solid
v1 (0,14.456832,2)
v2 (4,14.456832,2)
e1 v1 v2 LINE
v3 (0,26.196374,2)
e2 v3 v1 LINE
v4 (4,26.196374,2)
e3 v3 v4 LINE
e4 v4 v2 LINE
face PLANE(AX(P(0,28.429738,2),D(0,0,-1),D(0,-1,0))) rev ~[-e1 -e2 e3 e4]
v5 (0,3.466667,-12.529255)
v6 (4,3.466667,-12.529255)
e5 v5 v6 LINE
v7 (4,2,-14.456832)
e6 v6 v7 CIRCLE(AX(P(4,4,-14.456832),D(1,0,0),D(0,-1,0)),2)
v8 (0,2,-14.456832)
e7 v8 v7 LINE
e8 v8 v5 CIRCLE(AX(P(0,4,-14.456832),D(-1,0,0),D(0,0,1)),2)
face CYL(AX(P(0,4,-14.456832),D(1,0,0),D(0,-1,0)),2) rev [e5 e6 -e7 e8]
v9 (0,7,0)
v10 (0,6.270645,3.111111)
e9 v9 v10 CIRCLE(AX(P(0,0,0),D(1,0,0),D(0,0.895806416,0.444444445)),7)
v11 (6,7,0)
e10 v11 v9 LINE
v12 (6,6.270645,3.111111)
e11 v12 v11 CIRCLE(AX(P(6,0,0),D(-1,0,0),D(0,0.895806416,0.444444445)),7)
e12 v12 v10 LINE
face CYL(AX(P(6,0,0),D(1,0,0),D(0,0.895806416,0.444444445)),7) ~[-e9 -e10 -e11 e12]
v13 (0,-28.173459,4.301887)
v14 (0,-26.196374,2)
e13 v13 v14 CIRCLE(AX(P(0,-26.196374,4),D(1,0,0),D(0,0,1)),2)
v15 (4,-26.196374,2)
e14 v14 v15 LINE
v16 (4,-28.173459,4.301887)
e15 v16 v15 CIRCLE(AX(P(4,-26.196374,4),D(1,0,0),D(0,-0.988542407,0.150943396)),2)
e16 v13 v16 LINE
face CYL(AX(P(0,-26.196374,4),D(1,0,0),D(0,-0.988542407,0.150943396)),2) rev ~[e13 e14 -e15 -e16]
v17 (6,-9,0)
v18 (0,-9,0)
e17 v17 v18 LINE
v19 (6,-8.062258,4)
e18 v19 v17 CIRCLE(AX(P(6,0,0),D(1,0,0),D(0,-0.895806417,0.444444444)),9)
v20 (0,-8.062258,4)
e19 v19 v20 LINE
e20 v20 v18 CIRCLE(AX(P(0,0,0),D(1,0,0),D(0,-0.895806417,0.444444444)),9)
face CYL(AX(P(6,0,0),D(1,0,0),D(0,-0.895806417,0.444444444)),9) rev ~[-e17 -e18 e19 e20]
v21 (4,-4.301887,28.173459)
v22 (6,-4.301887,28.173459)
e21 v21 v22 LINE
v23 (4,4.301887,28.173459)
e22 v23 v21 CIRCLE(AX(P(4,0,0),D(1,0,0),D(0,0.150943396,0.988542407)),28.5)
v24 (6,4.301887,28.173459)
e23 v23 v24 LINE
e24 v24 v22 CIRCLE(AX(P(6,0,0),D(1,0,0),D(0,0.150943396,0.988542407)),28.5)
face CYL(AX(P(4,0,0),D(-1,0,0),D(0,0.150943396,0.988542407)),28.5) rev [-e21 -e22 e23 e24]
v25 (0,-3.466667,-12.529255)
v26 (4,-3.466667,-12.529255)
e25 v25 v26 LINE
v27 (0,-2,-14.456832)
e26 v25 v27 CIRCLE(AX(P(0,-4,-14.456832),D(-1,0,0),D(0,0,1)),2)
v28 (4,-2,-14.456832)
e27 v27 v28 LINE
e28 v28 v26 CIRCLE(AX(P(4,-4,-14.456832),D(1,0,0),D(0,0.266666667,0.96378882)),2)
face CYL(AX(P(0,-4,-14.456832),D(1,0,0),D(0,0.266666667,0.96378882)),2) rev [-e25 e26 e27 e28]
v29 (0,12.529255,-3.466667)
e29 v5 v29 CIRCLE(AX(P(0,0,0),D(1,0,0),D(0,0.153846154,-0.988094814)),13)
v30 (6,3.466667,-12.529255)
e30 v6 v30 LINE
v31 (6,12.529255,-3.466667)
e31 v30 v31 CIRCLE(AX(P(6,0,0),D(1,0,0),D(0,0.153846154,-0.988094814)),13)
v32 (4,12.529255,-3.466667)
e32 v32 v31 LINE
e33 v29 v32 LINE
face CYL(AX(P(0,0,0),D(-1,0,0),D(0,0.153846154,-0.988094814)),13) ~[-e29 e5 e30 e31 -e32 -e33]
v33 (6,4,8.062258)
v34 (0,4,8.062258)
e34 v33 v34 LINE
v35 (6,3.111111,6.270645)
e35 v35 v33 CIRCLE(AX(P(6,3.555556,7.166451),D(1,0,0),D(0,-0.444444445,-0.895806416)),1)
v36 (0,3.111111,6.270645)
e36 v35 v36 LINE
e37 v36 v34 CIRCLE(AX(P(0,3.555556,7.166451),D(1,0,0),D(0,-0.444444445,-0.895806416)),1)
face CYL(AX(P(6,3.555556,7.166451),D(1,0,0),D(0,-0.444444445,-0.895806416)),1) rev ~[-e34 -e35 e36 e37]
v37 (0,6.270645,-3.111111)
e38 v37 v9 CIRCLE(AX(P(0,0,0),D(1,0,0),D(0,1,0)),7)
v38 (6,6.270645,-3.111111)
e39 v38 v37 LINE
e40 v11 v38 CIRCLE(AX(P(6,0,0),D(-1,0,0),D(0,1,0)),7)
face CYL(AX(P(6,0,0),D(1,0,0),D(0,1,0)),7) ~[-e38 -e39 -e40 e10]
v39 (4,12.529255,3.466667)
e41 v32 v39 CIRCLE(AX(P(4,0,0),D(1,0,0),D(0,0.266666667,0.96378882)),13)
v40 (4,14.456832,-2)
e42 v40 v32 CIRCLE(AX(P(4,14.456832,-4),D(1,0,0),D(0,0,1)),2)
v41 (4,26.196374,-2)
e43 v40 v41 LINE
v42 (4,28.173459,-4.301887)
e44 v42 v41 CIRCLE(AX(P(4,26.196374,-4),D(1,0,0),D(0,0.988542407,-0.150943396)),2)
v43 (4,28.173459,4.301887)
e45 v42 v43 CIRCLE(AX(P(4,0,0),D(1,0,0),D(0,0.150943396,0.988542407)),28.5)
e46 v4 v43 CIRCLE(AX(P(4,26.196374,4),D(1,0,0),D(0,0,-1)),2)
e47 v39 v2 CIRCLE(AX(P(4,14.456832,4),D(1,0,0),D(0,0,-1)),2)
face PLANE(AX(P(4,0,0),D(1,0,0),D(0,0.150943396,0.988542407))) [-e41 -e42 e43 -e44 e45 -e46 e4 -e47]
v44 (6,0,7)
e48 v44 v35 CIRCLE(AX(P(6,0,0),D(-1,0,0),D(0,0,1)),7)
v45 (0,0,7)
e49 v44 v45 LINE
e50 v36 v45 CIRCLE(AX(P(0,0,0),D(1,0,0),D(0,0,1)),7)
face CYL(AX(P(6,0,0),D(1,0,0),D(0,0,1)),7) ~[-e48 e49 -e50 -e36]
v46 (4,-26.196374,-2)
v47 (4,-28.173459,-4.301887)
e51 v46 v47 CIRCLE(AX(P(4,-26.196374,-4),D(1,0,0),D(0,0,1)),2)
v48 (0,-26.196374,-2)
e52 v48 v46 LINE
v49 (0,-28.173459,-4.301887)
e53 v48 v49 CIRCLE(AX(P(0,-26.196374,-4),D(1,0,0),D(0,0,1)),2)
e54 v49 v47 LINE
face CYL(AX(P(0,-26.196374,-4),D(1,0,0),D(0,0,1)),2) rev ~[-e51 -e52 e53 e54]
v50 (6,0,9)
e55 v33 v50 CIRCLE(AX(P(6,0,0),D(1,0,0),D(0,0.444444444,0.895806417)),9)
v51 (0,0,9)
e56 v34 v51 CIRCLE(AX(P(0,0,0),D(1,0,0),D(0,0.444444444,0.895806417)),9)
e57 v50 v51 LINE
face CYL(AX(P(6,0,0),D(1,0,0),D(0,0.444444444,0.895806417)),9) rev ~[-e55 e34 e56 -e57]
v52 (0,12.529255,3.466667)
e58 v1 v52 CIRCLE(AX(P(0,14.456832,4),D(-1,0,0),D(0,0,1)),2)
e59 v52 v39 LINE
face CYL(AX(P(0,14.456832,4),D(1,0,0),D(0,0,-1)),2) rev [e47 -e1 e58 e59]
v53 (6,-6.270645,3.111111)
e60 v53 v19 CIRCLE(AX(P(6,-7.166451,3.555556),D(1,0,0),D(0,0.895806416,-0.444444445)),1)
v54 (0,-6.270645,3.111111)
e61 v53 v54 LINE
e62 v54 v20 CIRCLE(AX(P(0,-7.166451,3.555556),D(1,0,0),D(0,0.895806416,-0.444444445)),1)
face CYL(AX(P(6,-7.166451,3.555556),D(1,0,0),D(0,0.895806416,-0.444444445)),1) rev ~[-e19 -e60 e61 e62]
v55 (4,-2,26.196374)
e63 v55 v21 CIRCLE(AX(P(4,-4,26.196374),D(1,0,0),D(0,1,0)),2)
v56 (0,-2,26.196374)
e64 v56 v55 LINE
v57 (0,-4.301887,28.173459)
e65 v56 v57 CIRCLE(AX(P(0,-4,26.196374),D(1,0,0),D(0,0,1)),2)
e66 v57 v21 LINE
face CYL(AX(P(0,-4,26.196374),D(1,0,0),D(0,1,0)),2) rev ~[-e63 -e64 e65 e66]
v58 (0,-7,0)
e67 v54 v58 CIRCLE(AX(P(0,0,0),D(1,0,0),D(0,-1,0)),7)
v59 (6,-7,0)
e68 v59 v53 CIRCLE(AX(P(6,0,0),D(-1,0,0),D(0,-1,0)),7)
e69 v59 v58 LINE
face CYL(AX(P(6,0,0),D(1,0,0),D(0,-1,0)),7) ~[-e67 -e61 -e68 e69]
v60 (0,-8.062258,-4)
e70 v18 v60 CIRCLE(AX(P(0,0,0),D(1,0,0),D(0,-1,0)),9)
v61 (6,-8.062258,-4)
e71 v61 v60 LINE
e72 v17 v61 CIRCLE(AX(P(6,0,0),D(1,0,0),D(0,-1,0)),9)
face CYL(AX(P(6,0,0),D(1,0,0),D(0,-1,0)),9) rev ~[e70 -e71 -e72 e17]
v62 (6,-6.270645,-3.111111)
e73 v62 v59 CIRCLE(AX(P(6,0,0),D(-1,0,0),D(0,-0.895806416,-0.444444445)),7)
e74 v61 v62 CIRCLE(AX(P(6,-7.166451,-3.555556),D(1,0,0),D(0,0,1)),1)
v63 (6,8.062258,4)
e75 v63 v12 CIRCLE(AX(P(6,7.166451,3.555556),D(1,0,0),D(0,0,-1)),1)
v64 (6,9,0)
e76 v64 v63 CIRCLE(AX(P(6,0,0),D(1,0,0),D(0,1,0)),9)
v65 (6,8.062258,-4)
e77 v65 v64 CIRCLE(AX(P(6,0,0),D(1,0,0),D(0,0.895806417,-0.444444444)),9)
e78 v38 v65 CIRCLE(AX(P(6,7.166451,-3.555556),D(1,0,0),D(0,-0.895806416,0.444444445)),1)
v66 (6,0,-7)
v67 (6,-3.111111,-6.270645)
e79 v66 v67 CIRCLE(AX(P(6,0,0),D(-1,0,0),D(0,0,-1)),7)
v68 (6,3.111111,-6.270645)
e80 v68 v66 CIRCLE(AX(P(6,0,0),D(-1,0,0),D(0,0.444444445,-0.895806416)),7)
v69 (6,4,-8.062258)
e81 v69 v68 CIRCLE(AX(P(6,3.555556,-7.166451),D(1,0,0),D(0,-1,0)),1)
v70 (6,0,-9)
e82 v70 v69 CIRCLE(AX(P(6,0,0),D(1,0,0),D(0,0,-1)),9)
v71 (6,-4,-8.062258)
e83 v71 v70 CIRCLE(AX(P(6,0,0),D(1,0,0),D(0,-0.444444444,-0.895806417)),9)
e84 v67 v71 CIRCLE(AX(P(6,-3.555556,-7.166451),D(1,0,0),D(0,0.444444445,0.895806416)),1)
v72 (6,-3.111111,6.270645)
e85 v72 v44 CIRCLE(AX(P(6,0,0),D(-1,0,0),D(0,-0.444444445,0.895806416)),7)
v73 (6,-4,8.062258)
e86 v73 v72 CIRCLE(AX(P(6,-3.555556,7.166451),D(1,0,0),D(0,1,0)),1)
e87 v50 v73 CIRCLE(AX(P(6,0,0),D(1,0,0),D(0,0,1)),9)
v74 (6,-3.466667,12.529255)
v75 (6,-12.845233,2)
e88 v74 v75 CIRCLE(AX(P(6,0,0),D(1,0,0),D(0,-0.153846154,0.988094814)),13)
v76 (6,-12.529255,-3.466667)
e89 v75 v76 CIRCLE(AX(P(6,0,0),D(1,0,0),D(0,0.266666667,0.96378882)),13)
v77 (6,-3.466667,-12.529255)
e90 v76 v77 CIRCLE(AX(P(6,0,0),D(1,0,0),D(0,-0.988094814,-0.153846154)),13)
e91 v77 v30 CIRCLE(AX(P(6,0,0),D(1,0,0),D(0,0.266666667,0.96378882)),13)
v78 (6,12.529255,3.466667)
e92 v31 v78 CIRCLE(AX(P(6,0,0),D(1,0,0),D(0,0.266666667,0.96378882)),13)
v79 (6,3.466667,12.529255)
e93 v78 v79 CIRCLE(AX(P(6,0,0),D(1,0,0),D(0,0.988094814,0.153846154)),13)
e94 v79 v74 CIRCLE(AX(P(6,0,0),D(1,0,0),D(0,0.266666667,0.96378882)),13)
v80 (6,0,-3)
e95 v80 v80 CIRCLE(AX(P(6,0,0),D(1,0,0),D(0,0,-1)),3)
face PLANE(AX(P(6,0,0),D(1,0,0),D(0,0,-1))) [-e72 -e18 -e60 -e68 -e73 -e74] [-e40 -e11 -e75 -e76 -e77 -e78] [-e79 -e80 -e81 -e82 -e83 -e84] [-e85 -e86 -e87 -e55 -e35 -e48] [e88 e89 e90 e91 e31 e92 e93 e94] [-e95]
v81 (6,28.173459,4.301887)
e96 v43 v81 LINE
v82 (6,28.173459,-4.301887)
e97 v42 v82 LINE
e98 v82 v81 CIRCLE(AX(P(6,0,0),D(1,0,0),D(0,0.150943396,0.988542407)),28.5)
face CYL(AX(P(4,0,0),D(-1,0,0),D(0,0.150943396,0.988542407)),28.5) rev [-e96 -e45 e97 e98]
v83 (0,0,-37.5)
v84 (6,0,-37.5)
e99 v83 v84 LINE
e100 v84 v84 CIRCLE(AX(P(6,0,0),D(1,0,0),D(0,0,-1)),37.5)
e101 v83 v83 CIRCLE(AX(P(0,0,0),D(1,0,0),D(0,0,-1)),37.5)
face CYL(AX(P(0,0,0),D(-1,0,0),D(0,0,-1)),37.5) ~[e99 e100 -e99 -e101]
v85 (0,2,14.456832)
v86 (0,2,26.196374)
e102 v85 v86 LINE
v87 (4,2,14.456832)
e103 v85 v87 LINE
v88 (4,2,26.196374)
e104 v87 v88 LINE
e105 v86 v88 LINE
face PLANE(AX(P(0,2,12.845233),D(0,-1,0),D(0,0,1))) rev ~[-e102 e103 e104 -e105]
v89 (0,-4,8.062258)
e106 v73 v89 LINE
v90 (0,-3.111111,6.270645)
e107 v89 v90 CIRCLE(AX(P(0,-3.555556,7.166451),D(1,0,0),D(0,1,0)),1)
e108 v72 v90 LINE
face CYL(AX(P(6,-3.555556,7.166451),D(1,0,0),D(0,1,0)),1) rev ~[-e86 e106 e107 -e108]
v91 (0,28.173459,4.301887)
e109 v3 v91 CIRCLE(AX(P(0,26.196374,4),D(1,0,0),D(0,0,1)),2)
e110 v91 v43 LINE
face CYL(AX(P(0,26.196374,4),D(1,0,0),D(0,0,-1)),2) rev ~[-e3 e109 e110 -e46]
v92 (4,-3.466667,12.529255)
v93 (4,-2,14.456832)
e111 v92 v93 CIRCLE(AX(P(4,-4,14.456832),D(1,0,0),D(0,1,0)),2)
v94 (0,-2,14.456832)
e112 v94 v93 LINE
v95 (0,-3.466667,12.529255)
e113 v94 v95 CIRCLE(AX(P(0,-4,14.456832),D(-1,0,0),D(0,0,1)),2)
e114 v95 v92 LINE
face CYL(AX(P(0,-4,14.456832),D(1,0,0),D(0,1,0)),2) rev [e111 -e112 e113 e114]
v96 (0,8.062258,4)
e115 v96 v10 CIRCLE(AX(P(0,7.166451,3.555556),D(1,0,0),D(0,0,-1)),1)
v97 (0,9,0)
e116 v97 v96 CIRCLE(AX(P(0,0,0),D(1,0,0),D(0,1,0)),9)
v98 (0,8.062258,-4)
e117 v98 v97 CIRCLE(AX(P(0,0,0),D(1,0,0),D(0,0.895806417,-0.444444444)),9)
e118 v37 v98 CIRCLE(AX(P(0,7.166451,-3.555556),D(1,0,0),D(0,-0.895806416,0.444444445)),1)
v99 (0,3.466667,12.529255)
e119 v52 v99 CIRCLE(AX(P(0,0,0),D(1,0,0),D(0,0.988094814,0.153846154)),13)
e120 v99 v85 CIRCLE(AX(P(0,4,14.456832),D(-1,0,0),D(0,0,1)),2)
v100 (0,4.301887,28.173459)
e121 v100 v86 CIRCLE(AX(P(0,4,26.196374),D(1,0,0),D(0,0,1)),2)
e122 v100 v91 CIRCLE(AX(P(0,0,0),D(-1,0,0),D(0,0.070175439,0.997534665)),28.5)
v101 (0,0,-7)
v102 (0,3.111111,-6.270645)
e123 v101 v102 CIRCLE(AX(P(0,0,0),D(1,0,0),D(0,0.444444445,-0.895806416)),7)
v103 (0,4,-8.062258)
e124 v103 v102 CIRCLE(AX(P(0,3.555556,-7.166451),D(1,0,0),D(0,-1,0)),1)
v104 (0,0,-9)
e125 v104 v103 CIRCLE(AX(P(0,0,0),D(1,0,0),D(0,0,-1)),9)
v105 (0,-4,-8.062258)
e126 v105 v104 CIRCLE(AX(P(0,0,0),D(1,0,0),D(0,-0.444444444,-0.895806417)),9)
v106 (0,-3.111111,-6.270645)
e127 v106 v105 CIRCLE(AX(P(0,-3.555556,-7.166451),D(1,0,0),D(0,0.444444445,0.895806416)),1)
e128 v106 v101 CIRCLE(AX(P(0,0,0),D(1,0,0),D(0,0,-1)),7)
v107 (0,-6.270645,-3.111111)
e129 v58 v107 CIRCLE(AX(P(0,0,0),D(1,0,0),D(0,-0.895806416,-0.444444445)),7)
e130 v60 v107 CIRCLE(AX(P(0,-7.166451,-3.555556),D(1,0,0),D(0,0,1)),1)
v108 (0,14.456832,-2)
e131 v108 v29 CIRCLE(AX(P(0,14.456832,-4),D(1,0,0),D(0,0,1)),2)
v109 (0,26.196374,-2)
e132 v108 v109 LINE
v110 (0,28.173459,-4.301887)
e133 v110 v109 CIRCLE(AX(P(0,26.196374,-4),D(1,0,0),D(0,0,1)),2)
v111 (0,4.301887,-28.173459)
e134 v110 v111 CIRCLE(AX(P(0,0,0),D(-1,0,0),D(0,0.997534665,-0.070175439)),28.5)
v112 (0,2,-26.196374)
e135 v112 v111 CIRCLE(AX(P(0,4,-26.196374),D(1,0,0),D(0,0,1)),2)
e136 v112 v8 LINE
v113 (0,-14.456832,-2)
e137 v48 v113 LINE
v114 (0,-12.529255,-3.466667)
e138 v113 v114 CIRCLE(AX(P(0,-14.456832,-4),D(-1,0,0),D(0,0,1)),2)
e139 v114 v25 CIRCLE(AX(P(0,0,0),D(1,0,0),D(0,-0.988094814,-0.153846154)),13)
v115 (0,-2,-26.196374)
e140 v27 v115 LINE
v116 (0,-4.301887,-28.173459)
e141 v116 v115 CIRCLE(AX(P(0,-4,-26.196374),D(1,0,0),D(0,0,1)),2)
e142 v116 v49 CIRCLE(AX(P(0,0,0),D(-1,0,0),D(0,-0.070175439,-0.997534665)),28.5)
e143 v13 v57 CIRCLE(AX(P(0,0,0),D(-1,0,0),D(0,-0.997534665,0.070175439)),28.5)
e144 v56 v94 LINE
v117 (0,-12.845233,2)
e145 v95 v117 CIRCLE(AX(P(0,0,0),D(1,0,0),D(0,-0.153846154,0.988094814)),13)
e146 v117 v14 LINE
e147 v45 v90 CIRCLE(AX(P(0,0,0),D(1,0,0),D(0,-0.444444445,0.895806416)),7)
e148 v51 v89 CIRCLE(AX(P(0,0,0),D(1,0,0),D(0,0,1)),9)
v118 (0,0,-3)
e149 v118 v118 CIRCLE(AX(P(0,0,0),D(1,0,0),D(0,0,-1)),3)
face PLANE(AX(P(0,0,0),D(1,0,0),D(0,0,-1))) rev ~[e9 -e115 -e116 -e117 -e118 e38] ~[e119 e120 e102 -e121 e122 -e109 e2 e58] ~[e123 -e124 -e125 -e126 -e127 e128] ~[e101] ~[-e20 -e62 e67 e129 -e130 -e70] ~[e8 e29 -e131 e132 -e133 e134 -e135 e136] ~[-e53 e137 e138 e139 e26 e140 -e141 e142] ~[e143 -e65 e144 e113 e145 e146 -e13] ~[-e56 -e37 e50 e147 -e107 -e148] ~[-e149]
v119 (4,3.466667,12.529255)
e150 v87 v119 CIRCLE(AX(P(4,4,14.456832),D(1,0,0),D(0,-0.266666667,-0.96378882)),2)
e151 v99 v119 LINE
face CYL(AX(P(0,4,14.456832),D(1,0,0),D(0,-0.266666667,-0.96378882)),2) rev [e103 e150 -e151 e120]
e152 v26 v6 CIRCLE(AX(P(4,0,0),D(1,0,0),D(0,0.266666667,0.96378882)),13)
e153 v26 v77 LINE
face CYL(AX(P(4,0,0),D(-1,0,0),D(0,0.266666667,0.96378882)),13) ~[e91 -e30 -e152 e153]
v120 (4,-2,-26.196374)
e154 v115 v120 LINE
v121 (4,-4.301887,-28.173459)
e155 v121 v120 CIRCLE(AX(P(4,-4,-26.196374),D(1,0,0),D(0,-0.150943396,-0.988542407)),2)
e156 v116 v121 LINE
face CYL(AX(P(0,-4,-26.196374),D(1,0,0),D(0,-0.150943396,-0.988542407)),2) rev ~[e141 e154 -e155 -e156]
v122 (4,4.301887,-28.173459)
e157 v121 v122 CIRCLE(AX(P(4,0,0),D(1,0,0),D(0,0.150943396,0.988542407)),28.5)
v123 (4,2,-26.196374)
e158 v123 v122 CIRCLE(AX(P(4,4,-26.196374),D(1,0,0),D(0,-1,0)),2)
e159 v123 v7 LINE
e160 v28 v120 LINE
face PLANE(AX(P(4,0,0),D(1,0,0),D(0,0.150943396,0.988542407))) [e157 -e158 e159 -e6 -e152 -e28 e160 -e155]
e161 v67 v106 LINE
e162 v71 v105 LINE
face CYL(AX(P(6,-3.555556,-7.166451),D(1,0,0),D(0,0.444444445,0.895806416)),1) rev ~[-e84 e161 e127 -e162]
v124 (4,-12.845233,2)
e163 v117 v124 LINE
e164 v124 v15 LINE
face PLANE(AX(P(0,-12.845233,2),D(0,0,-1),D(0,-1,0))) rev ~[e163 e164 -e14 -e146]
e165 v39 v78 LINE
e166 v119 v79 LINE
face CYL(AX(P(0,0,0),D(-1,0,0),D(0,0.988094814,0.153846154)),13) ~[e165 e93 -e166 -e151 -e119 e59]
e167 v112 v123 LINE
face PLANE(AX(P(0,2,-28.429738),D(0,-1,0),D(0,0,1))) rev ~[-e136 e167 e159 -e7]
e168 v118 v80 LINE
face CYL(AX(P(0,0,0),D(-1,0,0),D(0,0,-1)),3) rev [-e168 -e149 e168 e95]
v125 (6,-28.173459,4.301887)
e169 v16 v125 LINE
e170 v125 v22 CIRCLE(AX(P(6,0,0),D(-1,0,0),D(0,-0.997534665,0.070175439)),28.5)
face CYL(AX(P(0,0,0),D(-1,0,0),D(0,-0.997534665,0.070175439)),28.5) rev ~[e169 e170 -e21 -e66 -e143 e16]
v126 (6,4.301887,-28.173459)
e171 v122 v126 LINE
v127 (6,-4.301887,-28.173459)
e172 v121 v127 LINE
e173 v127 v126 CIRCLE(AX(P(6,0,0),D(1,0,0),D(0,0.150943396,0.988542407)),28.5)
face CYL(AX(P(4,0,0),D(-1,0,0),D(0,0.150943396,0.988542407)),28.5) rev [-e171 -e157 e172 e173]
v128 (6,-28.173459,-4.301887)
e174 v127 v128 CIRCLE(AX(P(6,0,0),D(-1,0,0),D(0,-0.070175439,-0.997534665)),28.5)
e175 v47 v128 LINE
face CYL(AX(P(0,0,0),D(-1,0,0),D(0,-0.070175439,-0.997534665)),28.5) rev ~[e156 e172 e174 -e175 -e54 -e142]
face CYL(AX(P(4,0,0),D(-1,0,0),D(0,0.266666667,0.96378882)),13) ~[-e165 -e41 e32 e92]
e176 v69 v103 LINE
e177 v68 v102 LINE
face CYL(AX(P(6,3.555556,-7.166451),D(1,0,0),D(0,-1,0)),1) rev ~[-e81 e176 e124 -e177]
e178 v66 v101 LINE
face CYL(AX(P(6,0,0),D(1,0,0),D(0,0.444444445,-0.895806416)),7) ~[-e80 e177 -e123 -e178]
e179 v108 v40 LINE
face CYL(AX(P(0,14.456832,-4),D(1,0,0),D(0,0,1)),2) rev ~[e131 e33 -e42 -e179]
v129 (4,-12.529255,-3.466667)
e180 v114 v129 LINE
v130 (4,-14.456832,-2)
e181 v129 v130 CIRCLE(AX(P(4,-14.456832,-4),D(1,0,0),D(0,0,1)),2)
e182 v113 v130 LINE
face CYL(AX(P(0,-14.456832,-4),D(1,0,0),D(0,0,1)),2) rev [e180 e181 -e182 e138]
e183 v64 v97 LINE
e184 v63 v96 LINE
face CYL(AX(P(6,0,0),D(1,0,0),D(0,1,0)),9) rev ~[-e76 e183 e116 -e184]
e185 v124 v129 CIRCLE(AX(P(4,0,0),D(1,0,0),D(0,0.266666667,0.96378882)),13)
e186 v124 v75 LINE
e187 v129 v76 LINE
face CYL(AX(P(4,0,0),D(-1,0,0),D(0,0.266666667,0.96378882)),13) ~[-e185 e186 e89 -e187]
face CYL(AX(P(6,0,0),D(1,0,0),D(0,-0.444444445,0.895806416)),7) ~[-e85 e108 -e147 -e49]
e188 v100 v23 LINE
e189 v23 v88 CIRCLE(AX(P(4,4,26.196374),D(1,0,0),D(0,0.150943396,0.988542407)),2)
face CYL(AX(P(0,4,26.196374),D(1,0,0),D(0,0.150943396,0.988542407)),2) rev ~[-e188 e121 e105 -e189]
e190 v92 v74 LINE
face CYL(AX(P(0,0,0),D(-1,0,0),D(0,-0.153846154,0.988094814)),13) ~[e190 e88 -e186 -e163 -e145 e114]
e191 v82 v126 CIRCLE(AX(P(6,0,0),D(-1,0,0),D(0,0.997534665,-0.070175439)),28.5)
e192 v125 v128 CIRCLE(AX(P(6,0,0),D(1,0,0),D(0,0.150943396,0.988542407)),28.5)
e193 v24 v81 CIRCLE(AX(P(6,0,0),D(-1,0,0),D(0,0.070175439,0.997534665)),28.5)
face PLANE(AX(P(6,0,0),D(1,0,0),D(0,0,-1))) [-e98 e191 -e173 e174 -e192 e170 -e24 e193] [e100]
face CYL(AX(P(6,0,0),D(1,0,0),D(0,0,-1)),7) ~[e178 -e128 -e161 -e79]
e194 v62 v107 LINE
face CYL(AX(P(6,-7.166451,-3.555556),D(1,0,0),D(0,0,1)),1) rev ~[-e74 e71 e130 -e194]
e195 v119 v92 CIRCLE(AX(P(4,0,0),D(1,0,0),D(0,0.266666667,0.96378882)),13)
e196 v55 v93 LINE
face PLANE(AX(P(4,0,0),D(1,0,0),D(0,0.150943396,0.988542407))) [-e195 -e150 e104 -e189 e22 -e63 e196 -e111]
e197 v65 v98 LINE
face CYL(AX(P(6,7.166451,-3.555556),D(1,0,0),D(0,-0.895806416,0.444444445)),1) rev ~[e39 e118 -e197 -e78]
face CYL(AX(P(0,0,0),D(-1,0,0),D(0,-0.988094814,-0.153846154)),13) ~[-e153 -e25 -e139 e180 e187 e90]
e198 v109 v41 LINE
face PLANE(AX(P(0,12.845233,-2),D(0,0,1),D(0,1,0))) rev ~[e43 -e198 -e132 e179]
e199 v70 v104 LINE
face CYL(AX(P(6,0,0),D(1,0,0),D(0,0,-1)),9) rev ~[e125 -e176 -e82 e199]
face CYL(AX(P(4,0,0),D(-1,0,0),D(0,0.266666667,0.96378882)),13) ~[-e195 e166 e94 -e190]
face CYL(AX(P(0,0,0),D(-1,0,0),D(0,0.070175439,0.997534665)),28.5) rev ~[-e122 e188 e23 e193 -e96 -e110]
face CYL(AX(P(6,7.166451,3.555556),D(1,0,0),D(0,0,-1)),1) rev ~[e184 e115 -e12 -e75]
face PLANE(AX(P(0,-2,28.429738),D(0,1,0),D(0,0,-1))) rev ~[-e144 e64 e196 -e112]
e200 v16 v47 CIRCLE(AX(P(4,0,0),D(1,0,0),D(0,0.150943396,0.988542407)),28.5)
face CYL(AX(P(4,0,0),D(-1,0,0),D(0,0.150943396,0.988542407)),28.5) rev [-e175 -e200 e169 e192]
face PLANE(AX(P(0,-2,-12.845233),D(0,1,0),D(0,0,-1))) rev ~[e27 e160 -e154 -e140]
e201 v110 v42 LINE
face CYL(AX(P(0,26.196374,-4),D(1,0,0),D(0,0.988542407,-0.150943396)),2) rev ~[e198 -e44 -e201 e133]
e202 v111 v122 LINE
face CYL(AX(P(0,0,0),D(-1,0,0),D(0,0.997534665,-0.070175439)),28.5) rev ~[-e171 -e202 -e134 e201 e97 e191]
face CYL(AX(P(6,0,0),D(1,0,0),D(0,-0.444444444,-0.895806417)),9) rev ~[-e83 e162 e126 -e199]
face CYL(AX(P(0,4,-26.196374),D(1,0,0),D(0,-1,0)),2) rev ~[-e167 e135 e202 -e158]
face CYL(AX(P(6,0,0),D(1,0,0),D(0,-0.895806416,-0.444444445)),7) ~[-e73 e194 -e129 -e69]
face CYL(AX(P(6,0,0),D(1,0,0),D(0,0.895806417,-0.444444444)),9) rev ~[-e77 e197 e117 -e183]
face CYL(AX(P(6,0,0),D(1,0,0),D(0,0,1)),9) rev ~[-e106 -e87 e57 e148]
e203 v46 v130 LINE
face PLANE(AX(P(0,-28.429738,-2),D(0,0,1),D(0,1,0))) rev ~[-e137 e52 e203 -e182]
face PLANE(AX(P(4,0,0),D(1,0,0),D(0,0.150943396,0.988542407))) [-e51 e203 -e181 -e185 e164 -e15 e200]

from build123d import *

# Parameters (mm, degrees)
SKETCH1_R           = 37.5
SKETCH1_R_2         = 3
BOSS_EXTRUDE1_DEPTH = 6
FILLET1_R           = 2
SKETCH2_R           = 1
CUT_EXTRUDE1_DEPTH  = 10
CIRPATTERN1_COUNT   = 4
CUT_EXTRUDE2_START  = -2
SKETCH3_R           = 28.5
SKETCH3_R_2         = 13
CUT_EXTRUDE2_DEPTH  = 2


with BuildPart() as part:
    # Sketch1 → Boss-Extrude1 (new body)
    with BuildSketch(Plane(origin=(0, 0, 0), x_dir=(0, 0, -1), z_dir=(1, 0, 0))):
        Circle(SKETCH1_R)
        with BuildLine():
            ThreePointArc((-12.845232579, -2), (-9.192388155, -9.192388155), (-2, -12.845232579))
            Line((-2, -12.845232579), (-2, -28.429737952))
            ThreePointArc((-2, -28.429737952), (-20.152543264, -20.152543264), (-28.429737952, -2))
            Line((-28.429737952, -2), (-12.845232579, -2))
        make_face(mode=Mode.SUBTRACT)
        with BuildLine():
            ThreePointArc((2, -12.845232579), (9.192388155, -9.192388155), (12.845232579, -2))
            Line((12.845232579, -2), (28.429737952, -2))
            ThreePointArc((28.429737952, -2), (20.152543264, -20.152543264), (2, -28.429737952))
            Line((2, -28.429737952), (2, -12.845232579))
        make_face(mode=Mode.SUBTRACT)
        Circle(SKETCH1_R_2, mode=Mode.SUBTRACT)
        with BuildLine():
            ThreePointArc((-2, 12.845232579), (-9.192388155, 9.192388155), (-12.845232579, 2))
            Line((-12.845232579, 2), (-28.429737952, 2))
            ThreePointArc((-28.429737952, 2), (-20.152543264, 20.152543264), (-2, 28.429737952))
            Line((-2, 28.429737952), (-2, 12.845232579))
        make_face(mode=Mode.SUBTRACT)
        with BuildLine():
            ThreePointArc((12.845232579, 2), (9.192388155, 9.192388155), (2, 12.845232579))
            Line((2, 12.845232579), (2, 28.429737952))
            ThreePointArc((2, 28.429737952), (20.152543264, 20.152543264), (28.429737952, 2))
            Line((28.429737952, 2), (12.845232579, 2))
        make_face(mode=Mode.SUBTRACT)
    extrude(amount=BOSS_EXTRUDE1_DEPTH)

    # Fillet1
    fillet1_edges = [part.edges().sort_by_distance(p)[0] for p in [
        (3, 28.429737952, -2),
        (3, 12.845232579, -2),
        (3, 2, -12.845232579),
        (3, 2, -28.429737952),
        (3, 28.429737952, 2),
        (3, 2, 28.429737952),
        (3, 2, 12.845232579),
        (3, 12.845232579, 2),
        (3, -2, 28.429737952),
        (3, -28.429737952, 2),
        (3, -2, 12.845232579),
        (3, -28.429737952, -2),
        (3, -2, -28.429737952),
        (3, -2, -12.845232579),
        (3, -12.845232579, -2),
    ]]
    fillet(fillet1_edges, radius=FILLET1_R)

    # Sketch2 → Cut-Extrude1 (cut)
    with BuildSketch(Plane(origin=(6, 0, 0), x_dir=(0, 0, -1), z_dir=(1, 0, 0))):
        with BuildLine():
            ThreePointArc((4, 8.062257748), (2.054224947, 8.762428879), (0, 9))
            ThreePointArc((0, 9), (-2.054224947, 8.762428879), (-4, 8.062257748))
            ThreePointArc((-4, 8.062257748), (-3.028509279, 8.016287917), (-2.555555556, 7.166451332))
            ThreePointArc((-2.555555556, 7.166451332), (-2.70571897, 6.639405055), (-3.111111111, 6.270644915))
            ThreePointArc((-3.111111111, 6.270644915), (-1.597730514, 6.815222462), (0, 7))
            ThreePointArc((0, 7), (1.597730514, 6.815222462), (3.111111111, 6.270644915))
            ThreePointArc((3.111111111, 6.270644915), (2.659749139, 7.610895776), (4, 8.062257748))
        make_face()
        with Locations((-3.555555556, 7.166451332)):
            Circle(SKETCH2_R)
        with Locations((3.555555556, 7.166451332)):
            Circle(SKETCH2_R)
    cut_extrude1 = extrude(amount=-CUT_EXTRUDE1_DEPTH, mode=Mode.SUBTRACT)

    # CirPattern1: Cut-Extrude1 ×4 about axis
    cirpattern1_axis = Axis((0, 0, 0), (1, 0, 0))
    for i in range(1, CIRPATTERN1_COUNT):
        add(cut_extrude1.rotate(cirpattern1_axis, i * 360 / CIRPATTERN1_COUNT), mode=Mode.SUBTRACT)

    # Sketch3 → Cut-Extrude2 (cut)
    with BuildSketch(Plane(origin=(6, 0, 0), x_dir=(0, 0, -1), z_dir=(1, 0, 0)).offset(CUT_EXTRUDE2_START)):
        with Locations(Location((0, 0, 0), (0, 0, 171.318398303))):
            Circle(SKETCH3_R)
        with Locations(Location((0, 0, 0), (0, 0, 164.533990047))):
            Circle(SKETCH3_R_2, mode=Mode.SUBTRACT)
    extrude(amount=CUT_EXTRUDE2_DEPTH, mode=Mode.SUBTRACT)


solid = part.part
